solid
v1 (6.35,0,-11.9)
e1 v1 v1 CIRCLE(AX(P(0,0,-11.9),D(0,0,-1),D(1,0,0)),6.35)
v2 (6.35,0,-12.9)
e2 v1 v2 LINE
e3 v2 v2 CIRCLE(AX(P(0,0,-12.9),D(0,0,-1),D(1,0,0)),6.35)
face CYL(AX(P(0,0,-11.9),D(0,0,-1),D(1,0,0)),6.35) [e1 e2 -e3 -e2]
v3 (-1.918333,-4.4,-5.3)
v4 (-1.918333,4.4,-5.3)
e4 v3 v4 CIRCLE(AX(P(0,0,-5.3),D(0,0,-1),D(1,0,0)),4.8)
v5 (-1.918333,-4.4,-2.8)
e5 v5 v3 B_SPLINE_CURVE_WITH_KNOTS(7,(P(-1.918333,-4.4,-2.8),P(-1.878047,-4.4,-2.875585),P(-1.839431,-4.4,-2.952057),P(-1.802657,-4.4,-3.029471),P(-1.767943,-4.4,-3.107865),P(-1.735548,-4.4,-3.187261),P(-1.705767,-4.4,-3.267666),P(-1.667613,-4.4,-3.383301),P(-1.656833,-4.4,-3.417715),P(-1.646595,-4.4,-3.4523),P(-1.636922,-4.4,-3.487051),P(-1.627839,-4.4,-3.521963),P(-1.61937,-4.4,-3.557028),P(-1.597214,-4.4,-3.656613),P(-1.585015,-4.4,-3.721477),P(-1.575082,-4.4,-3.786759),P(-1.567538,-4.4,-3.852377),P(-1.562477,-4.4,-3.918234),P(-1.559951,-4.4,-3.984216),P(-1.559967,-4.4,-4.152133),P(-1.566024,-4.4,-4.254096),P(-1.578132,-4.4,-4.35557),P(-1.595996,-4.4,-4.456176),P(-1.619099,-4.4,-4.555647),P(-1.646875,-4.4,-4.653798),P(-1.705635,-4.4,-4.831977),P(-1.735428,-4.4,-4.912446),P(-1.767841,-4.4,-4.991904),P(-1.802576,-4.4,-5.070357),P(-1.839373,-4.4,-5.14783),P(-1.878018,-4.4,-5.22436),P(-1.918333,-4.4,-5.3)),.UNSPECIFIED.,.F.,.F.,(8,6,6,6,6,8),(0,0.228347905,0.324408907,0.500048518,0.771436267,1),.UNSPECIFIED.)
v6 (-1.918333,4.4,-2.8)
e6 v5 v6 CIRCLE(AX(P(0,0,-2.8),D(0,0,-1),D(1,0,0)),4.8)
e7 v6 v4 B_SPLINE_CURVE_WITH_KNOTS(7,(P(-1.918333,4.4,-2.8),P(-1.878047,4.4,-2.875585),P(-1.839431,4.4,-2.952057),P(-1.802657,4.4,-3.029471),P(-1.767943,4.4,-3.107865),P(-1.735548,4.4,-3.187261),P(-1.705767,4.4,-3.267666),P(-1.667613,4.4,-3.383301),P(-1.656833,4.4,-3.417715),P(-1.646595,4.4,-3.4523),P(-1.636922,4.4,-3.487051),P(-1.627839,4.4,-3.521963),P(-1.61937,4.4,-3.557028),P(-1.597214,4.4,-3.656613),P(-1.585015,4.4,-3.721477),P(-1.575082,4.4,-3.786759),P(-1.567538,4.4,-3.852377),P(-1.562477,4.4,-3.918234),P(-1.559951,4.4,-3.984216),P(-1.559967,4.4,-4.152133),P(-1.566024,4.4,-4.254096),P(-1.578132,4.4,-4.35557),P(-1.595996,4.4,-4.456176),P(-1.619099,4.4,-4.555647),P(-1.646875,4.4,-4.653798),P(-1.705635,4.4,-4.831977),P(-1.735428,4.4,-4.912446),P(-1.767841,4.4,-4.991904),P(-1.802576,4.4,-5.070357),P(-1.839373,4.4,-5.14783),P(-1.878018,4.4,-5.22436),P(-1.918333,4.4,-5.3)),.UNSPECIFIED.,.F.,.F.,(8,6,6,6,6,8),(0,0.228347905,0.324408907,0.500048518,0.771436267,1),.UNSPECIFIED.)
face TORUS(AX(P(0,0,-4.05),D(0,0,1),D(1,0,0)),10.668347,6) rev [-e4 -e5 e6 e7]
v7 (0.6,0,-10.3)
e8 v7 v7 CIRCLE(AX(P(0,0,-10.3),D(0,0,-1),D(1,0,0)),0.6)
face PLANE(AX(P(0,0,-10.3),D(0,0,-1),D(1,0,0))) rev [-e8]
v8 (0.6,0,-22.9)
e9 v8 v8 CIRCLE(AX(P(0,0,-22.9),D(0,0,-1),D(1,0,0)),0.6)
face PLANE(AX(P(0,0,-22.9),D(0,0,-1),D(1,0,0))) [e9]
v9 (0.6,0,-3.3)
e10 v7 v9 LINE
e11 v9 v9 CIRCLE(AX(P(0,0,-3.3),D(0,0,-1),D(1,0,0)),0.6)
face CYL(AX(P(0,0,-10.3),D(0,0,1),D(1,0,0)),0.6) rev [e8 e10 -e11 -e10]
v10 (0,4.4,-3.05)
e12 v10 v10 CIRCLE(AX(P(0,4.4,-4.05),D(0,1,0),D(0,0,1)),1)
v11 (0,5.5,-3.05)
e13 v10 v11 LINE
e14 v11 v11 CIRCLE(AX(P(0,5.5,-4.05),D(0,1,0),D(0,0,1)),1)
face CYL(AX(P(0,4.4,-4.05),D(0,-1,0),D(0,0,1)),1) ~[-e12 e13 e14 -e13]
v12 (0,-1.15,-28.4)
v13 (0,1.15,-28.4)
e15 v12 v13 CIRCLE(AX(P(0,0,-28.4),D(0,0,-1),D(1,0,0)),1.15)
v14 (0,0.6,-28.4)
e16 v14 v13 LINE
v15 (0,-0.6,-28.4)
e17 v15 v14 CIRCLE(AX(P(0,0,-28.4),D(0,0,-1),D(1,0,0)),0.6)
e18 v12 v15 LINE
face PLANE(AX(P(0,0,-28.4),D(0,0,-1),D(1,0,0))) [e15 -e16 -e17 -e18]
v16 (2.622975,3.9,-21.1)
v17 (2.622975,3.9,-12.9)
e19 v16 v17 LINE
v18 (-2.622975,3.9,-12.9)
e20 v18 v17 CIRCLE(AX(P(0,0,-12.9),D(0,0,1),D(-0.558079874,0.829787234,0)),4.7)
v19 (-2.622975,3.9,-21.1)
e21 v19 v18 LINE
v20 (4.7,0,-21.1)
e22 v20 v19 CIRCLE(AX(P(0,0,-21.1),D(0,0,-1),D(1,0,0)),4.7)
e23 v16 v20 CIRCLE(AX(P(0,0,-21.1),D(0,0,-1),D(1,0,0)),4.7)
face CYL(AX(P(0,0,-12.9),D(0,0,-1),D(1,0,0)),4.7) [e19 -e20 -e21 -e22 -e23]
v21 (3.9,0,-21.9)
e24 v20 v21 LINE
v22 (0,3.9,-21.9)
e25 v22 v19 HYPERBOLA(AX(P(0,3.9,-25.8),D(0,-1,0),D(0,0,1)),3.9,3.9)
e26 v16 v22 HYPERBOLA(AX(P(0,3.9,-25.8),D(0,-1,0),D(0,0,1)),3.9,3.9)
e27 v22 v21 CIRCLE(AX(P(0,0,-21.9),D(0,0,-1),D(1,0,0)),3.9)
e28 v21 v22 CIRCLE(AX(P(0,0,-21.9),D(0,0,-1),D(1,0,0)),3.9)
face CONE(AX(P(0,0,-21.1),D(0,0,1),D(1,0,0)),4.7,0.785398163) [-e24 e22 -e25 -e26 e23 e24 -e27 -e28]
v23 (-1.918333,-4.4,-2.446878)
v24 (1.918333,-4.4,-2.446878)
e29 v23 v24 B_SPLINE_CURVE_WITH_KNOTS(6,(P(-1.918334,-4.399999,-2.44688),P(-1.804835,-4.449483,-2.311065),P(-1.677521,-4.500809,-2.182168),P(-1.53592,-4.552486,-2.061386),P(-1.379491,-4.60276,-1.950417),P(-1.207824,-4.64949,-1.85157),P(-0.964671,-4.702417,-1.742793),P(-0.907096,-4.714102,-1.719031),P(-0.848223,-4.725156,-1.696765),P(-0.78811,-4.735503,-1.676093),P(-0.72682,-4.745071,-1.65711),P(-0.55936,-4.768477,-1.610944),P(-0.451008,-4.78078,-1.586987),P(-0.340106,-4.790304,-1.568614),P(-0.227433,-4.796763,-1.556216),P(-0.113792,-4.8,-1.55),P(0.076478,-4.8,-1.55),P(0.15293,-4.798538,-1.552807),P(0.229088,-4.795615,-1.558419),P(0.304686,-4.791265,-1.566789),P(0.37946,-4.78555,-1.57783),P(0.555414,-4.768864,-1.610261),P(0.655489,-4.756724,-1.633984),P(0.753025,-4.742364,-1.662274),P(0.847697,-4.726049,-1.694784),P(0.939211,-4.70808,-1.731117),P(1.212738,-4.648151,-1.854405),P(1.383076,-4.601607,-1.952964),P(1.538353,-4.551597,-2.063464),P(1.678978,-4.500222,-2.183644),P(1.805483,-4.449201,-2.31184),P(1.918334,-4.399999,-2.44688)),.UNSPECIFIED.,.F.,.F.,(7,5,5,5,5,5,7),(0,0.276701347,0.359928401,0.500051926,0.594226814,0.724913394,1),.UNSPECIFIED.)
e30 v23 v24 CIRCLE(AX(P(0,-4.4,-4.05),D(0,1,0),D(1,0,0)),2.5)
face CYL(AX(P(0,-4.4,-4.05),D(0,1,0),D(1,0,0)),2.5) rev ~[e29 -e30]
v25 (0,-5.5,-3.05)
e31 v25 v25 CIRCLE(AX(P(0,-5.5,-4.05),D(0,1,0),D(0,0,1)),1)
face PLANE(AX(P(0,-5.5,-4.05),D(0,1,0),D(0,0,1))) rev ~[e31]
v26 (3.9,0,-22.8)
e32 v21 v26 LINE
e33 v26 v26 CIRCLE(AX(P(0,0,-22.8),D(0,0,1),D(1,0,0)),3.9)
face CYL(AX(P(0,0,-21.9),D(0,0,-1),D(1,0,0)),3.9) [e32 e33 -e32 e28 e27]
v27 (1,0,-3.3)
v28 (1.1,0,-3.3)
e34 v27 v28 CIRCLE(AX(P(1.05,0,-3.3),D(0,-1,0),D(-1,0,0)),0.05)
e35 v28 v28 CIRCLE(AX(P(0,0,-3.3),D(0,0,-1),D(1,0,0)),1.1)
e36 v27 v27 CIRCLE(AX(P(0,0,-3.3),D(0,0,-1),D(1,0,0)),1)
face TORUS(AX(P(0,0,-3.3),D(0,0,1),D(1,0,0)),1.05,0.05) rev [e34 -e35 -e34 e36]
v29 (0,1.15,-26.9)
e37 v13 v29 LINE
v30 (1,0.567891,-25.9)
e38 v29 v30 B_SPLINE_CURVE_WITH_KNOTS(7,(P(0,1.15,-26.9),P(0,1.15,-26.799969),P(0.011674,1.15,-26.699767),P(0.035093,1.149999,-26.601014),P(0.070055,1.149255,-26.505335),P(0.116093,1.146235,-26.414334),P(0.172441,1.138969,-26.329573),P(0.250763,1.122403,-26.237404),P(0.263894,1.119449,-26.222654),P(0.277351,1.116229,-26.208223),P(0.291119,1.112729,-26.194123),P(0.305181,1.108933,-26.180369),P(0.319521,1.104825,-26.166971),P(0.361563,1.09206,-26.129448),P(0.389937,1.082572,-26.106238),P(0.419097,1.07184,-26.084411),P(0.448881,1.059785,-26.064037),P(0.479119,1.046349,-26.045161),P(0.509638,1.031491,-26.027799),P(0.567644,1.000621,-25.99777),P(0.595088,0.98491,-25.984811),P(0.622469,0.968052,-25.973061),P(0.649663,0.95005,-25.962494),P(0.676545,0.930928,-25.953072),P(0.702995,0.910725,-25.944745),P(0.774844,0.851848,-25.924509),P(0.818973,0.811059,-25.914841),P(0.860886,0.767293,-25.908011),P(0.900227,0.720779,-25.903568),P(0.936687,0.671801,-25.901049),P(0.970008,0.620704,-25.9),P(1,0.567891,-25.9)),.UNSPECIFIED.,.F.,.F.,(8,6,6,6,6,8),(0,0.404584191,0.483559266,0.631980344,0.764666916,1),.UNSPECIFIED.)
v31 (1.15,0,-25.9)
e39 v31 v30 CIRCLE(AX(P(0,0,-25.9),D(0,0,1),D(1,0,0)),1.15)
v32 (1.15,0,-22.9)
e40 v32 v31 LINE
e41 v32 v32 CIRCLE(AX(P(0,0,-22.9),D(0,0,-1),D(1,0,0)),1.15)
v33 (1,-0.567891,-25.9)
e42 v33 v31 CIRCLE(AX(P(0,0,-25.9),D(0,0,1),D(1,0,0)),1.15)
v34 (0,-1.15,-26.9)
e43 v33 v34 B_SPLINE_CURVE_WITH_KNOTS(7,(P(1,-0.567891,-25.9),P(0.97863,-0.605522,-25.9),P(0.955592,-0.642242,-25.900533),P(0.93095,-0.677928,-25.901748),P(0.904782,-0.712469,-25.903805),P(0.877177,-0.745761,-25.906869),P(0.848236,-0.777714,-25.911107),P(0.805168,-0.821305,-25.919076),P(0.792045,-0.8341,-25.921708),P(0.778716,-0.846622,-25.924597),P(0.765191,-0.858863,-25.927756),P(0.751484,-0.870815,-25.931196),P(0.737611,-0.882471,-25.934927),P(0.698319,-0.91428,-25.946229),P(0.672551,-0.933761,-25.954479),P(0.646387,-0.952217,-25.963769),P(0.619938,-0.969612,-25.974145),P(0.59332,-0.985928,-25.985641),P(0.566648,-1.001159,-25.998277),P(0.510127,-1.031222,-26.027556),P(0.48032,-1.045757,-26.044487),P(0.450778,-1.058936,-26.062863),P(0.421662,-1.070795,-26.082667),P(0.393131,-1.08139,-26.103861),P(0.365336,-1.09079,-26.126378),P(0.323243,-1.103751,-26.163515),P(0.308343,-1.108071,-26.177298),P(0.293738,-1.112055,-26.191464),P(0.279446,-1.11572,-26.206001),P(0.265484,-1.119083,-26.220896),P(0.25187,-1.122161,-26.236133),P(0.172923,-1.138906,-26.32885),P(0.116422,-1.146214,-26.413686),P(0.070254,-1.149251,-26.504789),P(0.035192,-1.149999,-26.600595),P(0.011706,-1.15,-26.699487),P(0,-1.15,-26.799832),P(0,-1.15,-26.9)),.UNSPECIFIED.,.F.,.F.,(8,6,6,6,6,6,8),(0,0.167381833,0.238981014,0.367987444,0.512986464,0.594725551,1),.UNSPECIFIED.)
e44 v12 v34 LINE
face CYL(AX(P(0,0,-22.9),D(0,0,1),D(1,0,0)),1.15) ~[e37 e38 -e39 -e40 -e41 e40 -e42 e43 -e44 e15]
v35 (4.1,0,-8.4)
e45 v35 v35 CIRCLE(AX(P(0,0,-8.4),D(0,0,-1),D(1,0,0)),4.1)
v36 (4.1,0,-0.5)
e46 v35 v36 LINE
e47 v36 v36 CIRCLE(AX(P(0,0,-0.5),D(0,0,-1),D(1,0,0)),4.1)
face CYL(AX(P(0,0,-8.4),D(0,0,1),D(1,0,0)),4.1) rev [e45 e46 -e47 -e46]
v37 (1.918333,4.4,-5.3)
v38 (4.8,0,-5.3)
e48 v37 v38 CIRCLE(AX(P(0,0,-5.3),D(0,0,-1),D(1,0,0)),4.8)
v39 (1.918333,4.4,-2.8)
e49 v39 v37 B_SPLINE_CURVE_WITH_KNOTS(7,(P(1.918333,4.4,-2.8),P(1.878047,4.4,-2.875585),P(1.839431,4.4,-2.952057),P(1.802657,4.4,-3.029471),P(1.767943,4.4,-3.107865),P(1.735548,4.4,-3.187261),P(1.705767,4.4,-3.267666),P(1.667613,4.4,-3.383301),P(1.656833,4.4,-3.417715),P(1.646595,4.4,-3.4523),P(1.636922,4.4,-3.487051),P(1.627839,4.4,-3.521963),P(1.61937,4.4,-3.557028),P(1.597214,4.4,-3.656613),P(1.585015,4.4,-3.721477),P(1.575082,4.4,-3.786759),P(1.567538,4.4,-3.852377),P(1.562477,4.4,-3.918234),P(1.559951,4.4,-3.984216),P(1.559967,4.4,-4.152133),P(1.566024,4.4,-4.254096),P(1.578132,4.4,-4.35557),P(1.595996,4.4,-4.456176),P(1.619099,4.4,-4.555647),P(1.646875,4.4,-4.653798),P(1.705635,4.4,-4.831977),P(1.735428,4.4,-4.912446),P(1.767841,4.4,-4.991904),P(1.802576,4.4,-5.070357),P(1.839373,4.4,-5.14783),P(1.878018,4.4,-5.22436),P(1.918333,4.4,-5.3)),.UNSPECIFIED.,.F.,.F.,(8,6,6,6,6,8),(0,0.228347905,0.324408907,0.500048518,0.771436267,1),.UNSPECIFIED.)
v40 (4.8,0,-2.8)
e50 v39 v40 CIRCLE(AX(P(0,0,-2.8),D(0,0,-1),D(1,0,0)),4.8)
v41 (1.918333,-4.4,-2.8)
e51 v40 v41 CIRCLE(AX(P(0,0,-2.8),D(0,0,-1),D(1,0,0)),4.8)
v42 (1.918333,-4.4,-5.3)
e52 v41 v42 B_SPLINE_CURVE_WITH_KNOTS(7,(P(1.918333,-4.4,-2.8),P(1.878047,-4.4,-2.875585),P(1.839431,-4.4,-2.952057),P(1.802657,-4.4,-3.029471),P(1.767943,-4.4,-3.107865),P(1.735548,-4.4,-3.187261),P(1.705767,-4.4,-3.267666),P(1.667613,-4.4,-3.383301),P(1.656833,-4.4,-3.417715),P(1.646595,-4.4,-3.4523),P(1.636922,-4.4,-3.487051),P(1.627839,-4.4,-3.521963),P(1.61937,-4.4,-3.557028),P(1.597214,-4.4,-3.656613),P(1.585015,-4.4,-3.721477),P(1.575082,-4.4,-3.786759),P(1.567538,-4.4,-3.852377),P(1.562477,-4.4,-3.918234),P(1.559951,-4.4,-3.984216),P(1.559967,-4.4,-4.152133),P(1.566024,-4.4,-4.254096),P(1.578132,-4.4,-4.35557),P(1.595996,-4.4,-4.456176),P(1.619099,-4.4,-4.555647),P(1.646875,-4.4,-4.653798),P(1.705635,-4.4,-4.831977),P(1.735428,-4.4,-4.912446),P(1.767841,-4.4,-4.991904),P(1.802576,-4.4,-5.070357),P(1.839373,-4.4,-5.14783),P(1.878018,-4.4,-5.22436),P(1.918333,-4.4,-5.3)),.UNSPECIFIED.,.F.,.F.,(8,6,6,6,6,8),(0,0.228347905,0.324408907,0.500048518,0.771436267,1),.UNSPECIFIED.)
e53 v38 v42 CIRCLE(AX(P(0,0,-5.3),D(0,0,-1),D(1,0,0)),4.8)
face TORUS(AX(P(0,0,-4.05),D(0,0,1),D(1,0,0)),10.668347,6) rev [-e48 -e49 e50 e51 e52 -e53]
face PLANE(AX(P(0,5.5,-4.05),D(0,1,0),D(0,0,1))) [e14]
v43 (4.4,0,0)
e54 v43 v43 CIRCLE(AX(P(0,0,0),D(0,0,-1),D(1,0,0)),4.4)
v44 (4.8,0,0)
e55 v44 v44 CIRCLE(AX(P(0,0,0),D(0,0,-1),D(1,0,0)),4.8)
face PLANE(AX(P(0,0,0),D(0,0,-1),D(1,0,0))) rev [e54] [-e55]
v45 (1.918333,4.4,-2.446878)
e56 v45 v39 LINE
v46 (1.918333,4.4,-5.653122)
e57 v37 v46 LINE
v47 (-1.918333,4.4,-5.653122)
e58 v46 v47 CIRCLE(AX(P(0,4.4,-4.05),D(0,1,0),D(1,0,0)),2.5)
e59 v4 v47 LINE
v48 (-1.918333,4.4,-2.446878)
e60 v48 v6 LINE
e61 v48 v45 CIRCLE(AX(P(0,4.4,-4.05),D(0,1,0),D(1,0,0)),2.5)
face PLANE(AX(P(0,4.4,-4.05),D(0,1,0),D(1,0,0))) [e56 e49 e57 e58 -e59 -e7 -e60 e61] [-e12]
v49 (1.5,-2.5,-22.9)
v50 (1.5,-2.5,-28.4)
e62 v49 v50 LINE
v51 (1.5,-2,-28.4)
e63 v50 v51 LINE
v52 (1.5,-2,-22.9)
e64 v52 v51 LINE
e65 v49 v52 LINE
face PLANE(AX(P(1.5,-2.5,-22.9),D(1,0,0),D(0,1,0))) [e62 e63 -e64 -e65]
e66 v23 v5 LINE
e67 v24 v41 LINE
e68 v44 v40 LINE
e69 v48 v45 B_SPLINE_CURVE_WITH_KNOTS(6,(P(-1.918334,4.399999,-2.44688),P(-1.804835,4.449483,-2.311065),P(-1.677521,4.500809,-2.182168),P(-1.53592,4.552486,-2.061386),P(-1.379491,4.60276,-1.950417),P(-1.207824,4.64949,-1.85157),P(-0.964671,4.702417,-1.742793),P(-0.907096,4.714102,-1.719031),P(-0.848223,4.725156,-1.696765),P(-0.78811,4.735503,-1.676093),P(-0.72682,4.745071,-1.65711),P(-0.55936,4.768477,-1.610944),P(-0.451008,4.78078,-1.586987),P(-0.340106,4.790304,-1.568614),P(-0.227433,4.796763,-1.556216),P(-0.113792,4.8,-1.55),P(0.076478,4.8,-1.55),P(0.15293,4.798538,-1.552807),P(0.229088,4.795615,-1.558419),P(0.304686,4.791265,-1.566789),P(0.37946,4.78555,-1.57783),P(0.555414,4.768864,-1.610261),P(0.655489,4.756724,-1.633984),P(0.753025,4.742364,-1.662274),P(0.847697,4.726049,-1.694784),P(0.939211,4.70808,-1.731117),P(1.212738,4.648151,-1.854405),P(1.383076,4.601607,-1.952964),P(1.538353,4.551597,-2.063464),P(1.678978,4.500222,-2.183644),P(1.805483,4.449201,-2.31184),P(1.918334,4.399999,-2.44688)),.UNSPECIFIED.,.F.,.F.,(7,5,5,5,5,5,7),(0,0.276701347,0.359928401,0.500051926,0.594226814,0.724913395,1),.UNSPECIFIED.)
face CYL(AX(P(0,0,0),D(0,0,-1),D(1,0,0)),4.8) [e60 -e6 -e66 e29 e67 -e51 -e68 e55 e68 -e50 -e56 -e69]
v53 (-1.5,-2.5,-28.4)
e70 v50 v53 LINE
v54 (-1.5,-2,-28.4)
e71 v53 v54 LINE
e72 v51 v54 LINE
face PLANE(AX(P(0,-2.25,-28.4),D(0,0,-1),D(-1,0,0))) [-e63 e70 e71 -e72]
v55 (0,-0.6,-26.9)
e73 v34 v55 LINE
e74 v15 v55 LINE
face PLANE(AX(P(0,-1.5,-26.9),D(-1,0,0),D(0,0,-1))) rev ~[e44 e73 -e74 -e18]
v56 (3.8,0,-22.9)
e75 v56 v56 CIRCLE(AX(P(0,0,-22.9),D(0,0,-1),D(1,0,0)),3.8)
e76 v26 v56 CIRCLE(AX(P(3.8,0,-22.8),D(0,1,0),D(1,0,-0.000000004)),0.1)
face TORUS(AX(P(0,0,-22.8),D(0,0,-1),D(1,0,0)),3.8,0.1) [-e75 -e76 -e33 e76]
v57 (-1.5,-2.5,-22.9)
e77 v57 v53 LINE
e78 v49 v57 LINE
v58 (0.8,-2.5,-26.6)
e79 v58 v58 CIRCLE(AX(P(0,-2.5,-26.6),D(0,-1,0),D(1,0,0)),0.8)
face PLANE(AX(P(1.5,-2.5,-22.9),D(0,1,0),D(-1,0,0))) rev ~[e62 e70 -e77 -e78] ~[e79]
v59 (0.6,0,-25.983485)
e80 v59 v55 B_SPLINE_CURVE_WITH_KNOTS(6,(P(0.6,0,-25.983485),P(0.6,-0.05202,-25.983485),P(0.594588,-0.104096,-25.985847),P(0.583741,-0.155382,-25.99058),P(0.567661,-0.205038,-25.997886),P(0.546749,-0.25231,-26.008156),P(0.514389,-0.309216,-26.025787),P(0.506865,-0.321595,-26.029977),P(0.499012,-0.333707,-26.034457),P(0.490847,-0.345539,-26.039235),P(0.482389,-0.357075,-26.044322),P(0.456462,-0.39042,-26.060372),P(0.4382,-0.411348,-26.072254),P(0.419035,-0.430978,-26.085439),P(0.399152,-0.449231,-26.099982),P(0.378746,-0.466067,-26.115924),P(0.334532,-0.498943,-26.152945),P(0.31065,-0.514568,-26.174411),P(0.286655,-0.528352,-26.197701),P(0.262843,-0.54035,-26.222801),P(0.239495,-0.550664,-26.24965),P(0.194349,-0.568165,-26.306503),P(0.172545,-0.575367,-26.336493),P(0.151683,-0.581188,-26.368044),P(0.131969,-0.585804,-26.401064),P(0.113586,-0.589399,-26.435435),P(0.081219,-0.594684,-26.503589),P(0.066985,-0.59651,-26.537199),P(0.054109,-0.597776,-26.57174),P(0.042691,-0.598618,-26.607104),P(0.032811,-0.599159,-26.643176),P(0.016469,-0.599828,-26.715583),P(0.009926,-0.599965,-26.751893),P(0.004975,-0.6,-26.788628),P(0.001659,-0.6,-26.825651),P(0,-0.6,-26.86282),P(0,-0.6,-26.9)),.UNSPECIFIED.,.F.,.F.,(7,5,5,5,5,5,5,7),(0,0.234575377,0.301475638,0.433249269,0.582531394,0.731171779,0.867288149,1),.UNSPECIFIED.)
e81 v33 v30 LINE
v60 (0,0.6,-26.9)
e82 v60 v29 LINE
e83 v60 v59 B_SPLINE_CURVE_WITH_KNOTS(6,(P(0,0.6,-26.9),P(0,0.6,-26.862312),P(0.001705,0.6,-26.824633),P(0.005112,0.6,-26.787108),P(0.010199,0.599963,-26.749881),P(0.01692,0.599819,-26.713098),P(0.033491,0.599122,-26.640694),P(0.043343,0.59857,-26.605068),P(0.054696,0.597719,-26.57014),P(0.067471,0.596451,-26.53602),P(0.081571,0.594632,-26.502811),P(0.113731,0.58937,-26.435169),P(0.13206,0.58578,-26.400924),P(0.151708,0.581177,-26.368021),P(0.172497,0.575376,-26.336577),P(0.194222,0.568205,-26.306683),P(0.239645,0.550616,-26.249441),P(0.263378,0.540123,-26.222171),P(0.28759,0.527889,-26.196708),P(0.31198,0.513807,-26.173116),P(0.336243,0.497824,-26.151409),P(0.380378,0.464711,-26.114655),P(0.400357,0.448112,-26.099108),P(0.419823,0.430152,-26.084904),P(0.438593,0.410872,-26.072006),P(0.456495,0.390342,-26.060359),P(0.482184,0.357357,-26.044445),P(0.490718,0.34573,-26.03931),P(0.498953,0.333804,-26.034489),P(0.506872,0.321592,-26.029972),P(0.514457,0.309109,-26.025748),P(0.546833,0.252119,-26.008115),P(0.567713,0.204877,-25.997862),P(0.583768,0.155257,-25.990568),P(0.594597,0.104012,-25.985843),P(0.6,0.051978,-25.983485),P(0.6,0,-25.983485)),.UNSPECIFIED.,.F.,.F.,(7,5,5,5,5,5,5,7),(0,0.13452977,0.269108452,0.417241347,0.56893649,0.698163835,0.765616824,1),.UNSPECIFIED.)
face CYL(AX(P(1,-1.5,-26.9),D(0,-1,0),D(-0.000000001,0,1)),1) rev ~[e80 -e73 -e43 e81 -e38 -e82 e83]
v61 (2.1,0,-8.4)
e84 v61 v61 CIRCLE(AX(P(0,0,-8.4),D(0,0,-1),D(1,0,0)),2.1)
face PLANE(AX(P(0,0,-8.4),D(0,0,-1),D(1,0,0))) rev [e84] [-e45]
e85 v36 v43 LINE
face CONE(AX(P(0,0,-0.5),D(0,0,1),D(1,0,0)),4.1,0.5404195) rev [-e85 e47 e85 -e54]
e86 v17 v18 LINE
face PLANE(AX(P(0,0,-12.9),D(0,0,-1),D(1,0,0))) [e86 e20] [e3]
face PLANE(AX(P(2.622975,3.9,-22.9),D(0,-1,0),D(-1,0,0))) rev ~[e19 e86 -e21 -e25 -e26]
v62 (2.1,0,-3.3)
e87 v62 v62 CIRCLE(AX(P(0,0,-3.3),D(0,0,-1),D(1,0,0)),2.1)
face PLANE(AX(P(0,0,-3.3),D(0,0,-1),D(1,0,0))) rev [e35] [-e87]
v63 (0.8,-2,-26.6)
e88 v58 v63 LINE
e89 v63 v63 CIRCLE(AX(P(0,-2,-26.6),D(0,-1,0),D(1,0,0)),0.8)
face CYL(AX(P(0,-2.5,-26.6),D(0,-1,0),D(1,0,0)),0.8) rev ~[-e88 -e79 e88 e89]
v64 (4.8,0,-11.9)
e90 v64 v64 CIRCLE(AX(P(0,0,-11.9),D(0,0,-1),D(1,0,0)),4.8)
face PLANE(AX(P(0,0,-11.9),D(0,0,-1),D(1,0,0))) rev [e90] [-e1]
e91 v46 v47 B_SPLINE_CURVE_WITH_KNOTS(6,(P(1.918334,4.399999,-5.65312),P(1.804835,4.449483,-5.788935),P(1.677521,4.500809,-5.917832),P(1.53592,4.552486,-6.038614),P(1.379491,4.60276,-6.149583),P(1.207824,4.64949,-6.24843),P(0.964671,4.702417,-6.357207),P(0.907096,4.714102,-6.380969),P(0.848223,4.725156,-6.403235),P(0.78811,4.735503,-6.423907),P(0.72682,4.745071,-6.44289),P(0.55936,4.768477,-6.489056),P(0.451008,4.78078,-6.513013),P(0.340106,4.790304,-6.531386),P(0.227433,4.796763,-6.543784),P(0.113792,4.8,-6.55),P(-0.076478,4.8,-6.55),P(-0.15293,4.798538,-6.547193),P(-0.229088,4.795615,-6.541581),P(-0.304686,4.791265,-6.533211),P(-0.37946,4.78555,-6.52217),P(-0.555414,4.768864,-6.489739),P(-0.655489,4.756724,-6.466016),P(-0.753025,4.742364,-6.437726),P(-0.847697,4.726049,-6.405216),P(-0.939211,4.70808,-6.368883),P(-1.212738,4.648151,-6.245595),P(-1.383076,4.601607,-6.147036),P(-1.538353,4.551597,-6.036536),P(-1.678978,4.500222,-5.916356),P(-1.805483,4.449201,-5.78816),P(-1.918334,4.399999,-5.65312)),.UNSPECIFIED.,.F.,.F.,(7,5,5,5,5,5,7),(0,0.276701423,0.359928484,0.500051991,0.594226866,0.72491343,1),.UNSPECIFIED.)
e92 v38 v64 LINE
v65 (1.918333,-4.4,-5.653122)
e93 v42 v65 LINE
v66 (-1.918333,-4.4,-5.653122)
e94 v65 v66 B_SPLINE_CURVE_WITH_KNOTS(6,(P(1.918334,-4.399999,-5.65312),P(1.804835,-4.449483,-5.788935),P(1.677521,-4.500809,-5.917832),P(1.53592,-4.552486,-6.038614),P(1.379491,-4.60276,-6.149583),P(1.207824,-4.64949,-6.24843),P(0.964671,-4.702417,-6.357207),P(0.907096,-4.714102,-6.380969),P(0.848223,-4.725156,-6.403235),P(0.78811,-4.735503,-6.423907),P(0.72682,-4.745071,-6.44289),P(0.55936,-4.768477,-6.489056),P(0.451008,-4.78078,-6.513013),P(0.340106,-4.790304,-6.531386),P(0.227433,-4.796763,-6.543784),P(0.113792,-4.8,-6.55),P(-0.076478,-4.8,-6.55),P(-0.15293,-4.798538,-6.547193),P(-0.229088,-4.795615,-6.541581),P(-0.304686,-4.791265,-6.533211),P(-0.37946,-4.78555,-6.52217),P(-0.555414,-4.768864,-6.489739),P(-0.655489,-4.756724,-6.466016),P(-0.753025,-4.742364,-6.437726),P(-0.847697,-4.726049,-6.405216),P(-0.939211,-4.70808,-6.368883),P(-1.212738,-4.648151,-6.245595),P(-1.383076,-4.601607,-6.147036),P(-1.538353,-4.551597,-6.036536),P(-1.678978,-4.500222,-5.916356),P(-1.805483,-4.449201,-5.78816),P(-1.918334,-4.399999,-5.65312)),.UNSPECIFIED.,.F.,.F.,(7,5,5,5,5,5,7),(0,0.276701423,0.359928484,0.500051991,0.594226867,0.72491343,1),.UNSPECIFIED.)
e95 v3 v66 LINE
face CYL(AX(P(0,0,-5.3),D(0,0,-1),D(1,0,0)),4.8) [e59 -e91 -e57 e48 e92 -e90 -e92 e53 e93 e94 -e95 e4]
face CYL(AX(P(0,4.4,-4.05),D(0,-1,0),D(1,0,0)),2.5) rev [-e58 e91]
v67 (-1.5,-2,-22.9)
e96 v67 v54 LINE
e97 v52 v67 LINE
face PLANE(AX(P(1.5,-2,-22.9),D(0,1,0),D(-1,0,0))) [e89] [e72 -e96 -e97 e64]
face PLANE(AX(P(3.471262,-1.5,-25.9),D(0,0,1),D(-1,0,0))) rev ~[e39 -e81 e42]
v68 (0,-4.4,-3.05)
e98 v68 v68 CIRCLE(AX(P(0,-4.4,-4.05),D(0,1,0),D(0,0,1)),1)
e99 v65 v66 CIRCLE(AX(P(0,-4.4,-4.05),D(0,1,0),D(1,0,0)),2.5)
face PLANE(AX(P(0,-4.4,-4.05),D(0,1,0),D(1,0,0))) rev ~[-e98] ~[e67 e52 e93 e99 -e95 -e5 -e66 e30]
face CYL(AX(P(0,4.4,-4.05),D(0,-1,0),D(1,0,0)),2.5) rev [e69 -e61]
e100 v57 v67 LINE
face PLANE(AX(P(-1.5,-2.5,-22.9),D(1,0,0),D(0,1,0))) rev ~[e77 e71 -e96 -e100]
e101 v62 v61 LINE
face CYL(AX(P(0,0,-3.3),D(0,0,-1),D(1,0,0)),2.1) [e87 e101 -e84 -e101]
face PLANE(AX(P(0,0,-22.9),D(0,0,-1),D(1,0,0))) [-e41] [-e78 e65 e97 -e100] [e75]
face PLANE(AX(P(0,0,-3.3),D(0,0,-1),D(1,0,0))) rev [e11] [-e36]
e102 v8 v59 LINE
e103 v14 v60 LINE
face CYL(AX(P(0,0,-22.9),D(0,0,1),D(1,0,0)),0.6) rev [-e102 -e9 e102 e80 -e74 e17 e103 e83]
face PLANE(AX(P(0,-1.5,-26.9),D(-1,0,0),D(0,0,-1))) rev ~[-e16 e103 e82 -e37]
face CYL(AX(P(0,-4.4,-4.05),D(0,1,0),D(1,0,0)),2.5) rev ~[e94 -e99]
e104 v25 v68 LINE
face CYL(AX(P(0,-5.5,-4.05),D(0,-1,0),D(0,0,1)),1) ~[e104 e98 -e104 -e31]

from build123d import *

# Parameters (mm, degrees)
CUT_EXTRUDE_START        = 4.4
SKETCH_3_R               = 2.5
CUT_EXTRUDE_2_DEPTH      = 21.197865761
CUT_EXTRUDE_START_2      = -4.4
SKETCH_3_2_R             = 2.5
CUT_EXTRUDE_3_DEPTH      = 21.197865761
EXTRUDE_START            = 4.4
SKETCH_5_R               = 1
EXTRUDE_4_DEPTH          = 1.1
EXTRUDE_START_2          = -5.5
SKETCH_5_2_R             = 1
EXTRUDE_5_DEPTH          = 1.1
CUT_EXTRUDE_6_DEPTH      = 10
SKETCH_7_R               = 1.15
SKETCH_7_R_2             = 0.6
SKETCH_7_W               = 3
SKETCH_7_H               = 0.5
EXTRUDE_8_DEPTH          = 5.5
CUT_EXTRUDE_9_DEPTH      = 1.5
CUT_EXTRUDE_9_DEPTH_BACK = 1.5
SKETCH_9_R               = 0.8
CUT_EXTRUDE_10_DEPTH     = 1


with BuildPart() as part:
    # Эскиз1 → Повернуть1 (revolve)
    with BuildSketch(Plane(origin=(0, 0, 0), x_dir=(0, 0, -1), z_dir=(1, 0, 0)), mode=Mode.PRIVATE) as revolve_1_sk:
        with BuildLine():
            Line((10.3, 0), (10.3, 0.6))
            Line((10.3, 0.6), (3.3, 0.6))
            Line((3.3, 0.6), (3.3, 1))
            ThreePointArc((3.3, 1), (3.35, 1.05), (3.3, 1.1))
            Line((3.3, 1.1), (3.3, 2.1))
            Line((3.3, 2.1), (8.4, 2.1))
            Line((8.4, 2.1), (8.4, 4.1))
            Line((8.4, 4.1), (0.5, 4.1))
            Line((0.5, 4.1), (0, 4.4))
            Line((0, 4.4), (0, 4.8))
            Line((0, 4.8), (2.8, 4.8))
            ThreePointArc((2.8, 4.8), (4.05, 4.668347297), (5.3, 4.8))
            Line((5.3, 4.8), (11.9, 4.8))
            Line((11.9, 4.8), (11.9, 6.35))
            Line((11.9, 6.35), (12.9, 6.35))
            Line((12.9, 6.35), (12.9, 4.7))
            Line((12.9, 4.7), (21.1, 4.7))
            Line((21.1, 4.7), (21.9, 3.9))
            Line((21.9, 3.9), (22.8, 3.9))
            ThreePointArc((22.8, 3.9), (22.870710678, 3.870710678), (22.9, 3.8))
            Line((22.9, 3.8), (22.9, 0))
            Line((22.9, 0), (10.3, 0))
        make_face()
    revolve(revolve_1_sk.sketch.rotate(Axis((0, 0, 0), (0, 0, -1)), 90), axis=Axis((0, 0, 0), (0, 0, -1)))

    # Эскиз3 → Вытянуть2 (cut, through all)
    with BuildSketch(Plane(origin=(0, 0, 0), x_dir=(1, 0, 0), z_dir=(0, 1, 0)).offset(CUT_EXTRUDE_START)):
        with Locations((0, 4.05)):
            Circle(SKETCH_3_R)
    extrude(amount=CUT_EXTRUDE_2_DEPTH, mode=Mode.SUBTRACT)

    # Эскиз3<2> → Вытянуть3 (cut, through all)
    with BuildSketch(Plane(origin=(0, 0, 0), x_dir=(1, 0, 0), z_dir=(0, 1, 0)).offset(CUT_EXTRUDE_START_2)):
        with Locations((0, 4.05)):
            Circle(SKETCH_3_2_R)
    extrude(amount=-CUT_EXTRUDE_3_DEPTH, mode=Mode.SUBTRACT)

    # Эскиз5 → Вытянуть4 (add)
    with BuildSketch(Plane(origin=(0, 0, 0), x_dir=(1, 0, 0), z_dir=(0, 1, 0)).offset(EXTRUDE_START)):
        with Locations(Location((0, 4.05, 0), (0, 0, 270))):
            Circle(SKETCH_5_R)
    extrude(amount=EXTRUDE_4_DEPTH)

    # Эскиз5<2> → Вытянуть5 (add)
    with BuildSketch(Plane(origin=(0, 0, 0), x_dir=(1, 0, 0), z_dir=(0, 1, 0)).offset(EXTRUDE_START_2)):
        with Locations(Location((0, 4.05, 0), (0, 0, 270))):
            Circle(SKETCH_5_2_R)
    extrude(amount=EXTRUDE_5_DEPTH)

    # Эскиз2 → Вытянуть6 (cut)
    with BuildSketch(Plane(origin=(0, 0, -22.9), x_dir=(-1, 0, 0), z_dir=(0, 0, -1))):
        with BuildLine():
            Line((-2.62297541, 3.9), (2.62297541, 3.9))
            ThreePointArc((2.62297541, 3.9), (0, 4.7), (-2.62297541, 3.9))
        make_face()
    extrude(amount=-CUT_EXTRUDE_6_DEPTH, mode=Mode.SUBTRACT)

    # Эскиз7 → Вытянуть8 (add)
    # profile 1 of 2: a face of its own
    with BuildSketch(Plane(origin=(0, 0, -22.9), x_dir=(-1, 0, 0), z_dir=(0, 0, -1))):
        with Locations(Location((0, 0, 0), (0, 0, 180))):
            Circle(SKETCH_7_R)
        with Locations(Location((0, 0, 0), (0, 0, 180))):
            Circle(SKETCH_7_R_2, mode=Mode.SUBTRACT)
    # profile 2 of 2: a face of its own
    with BuildSketch(Plane(origin=(0, 0, -22.9), x_dir=(-1, 0, 0), z_dir=(0, 0, -1))):
        with Locations((0, -2.25)):
            Rectangle(SKETCH_7_W, SKETCH_7_H)
    extrude(amount=EXTRUDE_8_DEPTH)

    # Эскиз8 → Вытянуть9 (cut, two sides: drawn at the far end of the back side and taken through both)
    with BuildSketch(Plane(origin=(0, 0, 0), x_dir=(1, 0, 0), z_dir=(0, 1, 0)).offset(-CUT_EXTRUDE_9_DEPTH_BACK)):
        with BuildLine():
            Line((0, 30.676927372), (3.471261933, 30.676927372))
            Line((3.471261933, 30.676927372), (3.471261933, 25.9))
            Line((3.471261933, 25.9), (1, 25.9))
            ThreePointArc((1, 25.9), (0.292893219, 26.192893219), (0, 26.9))
            Line((0, 26.9), (0, 30.676927372))
        make_face()
    extrude(amount=CUT_EXTRUDE_9_DEPTH + CUT_EXTRUDE_9_DEPTH_BACK, mode=Mode.SUBTRACT)

    # Эскиз9 → Вытянуть10 (cut)
    with BuildSketch(Plane.XZ.offset(2.5)):
        with Locations((0, -26.6)):
            Circle(SKETCH_9_R)
    extrude(amount=-CUT_EXTRUDE_10_DEPTH, mode=Mode.SUBTRACT)


solid = part.part
